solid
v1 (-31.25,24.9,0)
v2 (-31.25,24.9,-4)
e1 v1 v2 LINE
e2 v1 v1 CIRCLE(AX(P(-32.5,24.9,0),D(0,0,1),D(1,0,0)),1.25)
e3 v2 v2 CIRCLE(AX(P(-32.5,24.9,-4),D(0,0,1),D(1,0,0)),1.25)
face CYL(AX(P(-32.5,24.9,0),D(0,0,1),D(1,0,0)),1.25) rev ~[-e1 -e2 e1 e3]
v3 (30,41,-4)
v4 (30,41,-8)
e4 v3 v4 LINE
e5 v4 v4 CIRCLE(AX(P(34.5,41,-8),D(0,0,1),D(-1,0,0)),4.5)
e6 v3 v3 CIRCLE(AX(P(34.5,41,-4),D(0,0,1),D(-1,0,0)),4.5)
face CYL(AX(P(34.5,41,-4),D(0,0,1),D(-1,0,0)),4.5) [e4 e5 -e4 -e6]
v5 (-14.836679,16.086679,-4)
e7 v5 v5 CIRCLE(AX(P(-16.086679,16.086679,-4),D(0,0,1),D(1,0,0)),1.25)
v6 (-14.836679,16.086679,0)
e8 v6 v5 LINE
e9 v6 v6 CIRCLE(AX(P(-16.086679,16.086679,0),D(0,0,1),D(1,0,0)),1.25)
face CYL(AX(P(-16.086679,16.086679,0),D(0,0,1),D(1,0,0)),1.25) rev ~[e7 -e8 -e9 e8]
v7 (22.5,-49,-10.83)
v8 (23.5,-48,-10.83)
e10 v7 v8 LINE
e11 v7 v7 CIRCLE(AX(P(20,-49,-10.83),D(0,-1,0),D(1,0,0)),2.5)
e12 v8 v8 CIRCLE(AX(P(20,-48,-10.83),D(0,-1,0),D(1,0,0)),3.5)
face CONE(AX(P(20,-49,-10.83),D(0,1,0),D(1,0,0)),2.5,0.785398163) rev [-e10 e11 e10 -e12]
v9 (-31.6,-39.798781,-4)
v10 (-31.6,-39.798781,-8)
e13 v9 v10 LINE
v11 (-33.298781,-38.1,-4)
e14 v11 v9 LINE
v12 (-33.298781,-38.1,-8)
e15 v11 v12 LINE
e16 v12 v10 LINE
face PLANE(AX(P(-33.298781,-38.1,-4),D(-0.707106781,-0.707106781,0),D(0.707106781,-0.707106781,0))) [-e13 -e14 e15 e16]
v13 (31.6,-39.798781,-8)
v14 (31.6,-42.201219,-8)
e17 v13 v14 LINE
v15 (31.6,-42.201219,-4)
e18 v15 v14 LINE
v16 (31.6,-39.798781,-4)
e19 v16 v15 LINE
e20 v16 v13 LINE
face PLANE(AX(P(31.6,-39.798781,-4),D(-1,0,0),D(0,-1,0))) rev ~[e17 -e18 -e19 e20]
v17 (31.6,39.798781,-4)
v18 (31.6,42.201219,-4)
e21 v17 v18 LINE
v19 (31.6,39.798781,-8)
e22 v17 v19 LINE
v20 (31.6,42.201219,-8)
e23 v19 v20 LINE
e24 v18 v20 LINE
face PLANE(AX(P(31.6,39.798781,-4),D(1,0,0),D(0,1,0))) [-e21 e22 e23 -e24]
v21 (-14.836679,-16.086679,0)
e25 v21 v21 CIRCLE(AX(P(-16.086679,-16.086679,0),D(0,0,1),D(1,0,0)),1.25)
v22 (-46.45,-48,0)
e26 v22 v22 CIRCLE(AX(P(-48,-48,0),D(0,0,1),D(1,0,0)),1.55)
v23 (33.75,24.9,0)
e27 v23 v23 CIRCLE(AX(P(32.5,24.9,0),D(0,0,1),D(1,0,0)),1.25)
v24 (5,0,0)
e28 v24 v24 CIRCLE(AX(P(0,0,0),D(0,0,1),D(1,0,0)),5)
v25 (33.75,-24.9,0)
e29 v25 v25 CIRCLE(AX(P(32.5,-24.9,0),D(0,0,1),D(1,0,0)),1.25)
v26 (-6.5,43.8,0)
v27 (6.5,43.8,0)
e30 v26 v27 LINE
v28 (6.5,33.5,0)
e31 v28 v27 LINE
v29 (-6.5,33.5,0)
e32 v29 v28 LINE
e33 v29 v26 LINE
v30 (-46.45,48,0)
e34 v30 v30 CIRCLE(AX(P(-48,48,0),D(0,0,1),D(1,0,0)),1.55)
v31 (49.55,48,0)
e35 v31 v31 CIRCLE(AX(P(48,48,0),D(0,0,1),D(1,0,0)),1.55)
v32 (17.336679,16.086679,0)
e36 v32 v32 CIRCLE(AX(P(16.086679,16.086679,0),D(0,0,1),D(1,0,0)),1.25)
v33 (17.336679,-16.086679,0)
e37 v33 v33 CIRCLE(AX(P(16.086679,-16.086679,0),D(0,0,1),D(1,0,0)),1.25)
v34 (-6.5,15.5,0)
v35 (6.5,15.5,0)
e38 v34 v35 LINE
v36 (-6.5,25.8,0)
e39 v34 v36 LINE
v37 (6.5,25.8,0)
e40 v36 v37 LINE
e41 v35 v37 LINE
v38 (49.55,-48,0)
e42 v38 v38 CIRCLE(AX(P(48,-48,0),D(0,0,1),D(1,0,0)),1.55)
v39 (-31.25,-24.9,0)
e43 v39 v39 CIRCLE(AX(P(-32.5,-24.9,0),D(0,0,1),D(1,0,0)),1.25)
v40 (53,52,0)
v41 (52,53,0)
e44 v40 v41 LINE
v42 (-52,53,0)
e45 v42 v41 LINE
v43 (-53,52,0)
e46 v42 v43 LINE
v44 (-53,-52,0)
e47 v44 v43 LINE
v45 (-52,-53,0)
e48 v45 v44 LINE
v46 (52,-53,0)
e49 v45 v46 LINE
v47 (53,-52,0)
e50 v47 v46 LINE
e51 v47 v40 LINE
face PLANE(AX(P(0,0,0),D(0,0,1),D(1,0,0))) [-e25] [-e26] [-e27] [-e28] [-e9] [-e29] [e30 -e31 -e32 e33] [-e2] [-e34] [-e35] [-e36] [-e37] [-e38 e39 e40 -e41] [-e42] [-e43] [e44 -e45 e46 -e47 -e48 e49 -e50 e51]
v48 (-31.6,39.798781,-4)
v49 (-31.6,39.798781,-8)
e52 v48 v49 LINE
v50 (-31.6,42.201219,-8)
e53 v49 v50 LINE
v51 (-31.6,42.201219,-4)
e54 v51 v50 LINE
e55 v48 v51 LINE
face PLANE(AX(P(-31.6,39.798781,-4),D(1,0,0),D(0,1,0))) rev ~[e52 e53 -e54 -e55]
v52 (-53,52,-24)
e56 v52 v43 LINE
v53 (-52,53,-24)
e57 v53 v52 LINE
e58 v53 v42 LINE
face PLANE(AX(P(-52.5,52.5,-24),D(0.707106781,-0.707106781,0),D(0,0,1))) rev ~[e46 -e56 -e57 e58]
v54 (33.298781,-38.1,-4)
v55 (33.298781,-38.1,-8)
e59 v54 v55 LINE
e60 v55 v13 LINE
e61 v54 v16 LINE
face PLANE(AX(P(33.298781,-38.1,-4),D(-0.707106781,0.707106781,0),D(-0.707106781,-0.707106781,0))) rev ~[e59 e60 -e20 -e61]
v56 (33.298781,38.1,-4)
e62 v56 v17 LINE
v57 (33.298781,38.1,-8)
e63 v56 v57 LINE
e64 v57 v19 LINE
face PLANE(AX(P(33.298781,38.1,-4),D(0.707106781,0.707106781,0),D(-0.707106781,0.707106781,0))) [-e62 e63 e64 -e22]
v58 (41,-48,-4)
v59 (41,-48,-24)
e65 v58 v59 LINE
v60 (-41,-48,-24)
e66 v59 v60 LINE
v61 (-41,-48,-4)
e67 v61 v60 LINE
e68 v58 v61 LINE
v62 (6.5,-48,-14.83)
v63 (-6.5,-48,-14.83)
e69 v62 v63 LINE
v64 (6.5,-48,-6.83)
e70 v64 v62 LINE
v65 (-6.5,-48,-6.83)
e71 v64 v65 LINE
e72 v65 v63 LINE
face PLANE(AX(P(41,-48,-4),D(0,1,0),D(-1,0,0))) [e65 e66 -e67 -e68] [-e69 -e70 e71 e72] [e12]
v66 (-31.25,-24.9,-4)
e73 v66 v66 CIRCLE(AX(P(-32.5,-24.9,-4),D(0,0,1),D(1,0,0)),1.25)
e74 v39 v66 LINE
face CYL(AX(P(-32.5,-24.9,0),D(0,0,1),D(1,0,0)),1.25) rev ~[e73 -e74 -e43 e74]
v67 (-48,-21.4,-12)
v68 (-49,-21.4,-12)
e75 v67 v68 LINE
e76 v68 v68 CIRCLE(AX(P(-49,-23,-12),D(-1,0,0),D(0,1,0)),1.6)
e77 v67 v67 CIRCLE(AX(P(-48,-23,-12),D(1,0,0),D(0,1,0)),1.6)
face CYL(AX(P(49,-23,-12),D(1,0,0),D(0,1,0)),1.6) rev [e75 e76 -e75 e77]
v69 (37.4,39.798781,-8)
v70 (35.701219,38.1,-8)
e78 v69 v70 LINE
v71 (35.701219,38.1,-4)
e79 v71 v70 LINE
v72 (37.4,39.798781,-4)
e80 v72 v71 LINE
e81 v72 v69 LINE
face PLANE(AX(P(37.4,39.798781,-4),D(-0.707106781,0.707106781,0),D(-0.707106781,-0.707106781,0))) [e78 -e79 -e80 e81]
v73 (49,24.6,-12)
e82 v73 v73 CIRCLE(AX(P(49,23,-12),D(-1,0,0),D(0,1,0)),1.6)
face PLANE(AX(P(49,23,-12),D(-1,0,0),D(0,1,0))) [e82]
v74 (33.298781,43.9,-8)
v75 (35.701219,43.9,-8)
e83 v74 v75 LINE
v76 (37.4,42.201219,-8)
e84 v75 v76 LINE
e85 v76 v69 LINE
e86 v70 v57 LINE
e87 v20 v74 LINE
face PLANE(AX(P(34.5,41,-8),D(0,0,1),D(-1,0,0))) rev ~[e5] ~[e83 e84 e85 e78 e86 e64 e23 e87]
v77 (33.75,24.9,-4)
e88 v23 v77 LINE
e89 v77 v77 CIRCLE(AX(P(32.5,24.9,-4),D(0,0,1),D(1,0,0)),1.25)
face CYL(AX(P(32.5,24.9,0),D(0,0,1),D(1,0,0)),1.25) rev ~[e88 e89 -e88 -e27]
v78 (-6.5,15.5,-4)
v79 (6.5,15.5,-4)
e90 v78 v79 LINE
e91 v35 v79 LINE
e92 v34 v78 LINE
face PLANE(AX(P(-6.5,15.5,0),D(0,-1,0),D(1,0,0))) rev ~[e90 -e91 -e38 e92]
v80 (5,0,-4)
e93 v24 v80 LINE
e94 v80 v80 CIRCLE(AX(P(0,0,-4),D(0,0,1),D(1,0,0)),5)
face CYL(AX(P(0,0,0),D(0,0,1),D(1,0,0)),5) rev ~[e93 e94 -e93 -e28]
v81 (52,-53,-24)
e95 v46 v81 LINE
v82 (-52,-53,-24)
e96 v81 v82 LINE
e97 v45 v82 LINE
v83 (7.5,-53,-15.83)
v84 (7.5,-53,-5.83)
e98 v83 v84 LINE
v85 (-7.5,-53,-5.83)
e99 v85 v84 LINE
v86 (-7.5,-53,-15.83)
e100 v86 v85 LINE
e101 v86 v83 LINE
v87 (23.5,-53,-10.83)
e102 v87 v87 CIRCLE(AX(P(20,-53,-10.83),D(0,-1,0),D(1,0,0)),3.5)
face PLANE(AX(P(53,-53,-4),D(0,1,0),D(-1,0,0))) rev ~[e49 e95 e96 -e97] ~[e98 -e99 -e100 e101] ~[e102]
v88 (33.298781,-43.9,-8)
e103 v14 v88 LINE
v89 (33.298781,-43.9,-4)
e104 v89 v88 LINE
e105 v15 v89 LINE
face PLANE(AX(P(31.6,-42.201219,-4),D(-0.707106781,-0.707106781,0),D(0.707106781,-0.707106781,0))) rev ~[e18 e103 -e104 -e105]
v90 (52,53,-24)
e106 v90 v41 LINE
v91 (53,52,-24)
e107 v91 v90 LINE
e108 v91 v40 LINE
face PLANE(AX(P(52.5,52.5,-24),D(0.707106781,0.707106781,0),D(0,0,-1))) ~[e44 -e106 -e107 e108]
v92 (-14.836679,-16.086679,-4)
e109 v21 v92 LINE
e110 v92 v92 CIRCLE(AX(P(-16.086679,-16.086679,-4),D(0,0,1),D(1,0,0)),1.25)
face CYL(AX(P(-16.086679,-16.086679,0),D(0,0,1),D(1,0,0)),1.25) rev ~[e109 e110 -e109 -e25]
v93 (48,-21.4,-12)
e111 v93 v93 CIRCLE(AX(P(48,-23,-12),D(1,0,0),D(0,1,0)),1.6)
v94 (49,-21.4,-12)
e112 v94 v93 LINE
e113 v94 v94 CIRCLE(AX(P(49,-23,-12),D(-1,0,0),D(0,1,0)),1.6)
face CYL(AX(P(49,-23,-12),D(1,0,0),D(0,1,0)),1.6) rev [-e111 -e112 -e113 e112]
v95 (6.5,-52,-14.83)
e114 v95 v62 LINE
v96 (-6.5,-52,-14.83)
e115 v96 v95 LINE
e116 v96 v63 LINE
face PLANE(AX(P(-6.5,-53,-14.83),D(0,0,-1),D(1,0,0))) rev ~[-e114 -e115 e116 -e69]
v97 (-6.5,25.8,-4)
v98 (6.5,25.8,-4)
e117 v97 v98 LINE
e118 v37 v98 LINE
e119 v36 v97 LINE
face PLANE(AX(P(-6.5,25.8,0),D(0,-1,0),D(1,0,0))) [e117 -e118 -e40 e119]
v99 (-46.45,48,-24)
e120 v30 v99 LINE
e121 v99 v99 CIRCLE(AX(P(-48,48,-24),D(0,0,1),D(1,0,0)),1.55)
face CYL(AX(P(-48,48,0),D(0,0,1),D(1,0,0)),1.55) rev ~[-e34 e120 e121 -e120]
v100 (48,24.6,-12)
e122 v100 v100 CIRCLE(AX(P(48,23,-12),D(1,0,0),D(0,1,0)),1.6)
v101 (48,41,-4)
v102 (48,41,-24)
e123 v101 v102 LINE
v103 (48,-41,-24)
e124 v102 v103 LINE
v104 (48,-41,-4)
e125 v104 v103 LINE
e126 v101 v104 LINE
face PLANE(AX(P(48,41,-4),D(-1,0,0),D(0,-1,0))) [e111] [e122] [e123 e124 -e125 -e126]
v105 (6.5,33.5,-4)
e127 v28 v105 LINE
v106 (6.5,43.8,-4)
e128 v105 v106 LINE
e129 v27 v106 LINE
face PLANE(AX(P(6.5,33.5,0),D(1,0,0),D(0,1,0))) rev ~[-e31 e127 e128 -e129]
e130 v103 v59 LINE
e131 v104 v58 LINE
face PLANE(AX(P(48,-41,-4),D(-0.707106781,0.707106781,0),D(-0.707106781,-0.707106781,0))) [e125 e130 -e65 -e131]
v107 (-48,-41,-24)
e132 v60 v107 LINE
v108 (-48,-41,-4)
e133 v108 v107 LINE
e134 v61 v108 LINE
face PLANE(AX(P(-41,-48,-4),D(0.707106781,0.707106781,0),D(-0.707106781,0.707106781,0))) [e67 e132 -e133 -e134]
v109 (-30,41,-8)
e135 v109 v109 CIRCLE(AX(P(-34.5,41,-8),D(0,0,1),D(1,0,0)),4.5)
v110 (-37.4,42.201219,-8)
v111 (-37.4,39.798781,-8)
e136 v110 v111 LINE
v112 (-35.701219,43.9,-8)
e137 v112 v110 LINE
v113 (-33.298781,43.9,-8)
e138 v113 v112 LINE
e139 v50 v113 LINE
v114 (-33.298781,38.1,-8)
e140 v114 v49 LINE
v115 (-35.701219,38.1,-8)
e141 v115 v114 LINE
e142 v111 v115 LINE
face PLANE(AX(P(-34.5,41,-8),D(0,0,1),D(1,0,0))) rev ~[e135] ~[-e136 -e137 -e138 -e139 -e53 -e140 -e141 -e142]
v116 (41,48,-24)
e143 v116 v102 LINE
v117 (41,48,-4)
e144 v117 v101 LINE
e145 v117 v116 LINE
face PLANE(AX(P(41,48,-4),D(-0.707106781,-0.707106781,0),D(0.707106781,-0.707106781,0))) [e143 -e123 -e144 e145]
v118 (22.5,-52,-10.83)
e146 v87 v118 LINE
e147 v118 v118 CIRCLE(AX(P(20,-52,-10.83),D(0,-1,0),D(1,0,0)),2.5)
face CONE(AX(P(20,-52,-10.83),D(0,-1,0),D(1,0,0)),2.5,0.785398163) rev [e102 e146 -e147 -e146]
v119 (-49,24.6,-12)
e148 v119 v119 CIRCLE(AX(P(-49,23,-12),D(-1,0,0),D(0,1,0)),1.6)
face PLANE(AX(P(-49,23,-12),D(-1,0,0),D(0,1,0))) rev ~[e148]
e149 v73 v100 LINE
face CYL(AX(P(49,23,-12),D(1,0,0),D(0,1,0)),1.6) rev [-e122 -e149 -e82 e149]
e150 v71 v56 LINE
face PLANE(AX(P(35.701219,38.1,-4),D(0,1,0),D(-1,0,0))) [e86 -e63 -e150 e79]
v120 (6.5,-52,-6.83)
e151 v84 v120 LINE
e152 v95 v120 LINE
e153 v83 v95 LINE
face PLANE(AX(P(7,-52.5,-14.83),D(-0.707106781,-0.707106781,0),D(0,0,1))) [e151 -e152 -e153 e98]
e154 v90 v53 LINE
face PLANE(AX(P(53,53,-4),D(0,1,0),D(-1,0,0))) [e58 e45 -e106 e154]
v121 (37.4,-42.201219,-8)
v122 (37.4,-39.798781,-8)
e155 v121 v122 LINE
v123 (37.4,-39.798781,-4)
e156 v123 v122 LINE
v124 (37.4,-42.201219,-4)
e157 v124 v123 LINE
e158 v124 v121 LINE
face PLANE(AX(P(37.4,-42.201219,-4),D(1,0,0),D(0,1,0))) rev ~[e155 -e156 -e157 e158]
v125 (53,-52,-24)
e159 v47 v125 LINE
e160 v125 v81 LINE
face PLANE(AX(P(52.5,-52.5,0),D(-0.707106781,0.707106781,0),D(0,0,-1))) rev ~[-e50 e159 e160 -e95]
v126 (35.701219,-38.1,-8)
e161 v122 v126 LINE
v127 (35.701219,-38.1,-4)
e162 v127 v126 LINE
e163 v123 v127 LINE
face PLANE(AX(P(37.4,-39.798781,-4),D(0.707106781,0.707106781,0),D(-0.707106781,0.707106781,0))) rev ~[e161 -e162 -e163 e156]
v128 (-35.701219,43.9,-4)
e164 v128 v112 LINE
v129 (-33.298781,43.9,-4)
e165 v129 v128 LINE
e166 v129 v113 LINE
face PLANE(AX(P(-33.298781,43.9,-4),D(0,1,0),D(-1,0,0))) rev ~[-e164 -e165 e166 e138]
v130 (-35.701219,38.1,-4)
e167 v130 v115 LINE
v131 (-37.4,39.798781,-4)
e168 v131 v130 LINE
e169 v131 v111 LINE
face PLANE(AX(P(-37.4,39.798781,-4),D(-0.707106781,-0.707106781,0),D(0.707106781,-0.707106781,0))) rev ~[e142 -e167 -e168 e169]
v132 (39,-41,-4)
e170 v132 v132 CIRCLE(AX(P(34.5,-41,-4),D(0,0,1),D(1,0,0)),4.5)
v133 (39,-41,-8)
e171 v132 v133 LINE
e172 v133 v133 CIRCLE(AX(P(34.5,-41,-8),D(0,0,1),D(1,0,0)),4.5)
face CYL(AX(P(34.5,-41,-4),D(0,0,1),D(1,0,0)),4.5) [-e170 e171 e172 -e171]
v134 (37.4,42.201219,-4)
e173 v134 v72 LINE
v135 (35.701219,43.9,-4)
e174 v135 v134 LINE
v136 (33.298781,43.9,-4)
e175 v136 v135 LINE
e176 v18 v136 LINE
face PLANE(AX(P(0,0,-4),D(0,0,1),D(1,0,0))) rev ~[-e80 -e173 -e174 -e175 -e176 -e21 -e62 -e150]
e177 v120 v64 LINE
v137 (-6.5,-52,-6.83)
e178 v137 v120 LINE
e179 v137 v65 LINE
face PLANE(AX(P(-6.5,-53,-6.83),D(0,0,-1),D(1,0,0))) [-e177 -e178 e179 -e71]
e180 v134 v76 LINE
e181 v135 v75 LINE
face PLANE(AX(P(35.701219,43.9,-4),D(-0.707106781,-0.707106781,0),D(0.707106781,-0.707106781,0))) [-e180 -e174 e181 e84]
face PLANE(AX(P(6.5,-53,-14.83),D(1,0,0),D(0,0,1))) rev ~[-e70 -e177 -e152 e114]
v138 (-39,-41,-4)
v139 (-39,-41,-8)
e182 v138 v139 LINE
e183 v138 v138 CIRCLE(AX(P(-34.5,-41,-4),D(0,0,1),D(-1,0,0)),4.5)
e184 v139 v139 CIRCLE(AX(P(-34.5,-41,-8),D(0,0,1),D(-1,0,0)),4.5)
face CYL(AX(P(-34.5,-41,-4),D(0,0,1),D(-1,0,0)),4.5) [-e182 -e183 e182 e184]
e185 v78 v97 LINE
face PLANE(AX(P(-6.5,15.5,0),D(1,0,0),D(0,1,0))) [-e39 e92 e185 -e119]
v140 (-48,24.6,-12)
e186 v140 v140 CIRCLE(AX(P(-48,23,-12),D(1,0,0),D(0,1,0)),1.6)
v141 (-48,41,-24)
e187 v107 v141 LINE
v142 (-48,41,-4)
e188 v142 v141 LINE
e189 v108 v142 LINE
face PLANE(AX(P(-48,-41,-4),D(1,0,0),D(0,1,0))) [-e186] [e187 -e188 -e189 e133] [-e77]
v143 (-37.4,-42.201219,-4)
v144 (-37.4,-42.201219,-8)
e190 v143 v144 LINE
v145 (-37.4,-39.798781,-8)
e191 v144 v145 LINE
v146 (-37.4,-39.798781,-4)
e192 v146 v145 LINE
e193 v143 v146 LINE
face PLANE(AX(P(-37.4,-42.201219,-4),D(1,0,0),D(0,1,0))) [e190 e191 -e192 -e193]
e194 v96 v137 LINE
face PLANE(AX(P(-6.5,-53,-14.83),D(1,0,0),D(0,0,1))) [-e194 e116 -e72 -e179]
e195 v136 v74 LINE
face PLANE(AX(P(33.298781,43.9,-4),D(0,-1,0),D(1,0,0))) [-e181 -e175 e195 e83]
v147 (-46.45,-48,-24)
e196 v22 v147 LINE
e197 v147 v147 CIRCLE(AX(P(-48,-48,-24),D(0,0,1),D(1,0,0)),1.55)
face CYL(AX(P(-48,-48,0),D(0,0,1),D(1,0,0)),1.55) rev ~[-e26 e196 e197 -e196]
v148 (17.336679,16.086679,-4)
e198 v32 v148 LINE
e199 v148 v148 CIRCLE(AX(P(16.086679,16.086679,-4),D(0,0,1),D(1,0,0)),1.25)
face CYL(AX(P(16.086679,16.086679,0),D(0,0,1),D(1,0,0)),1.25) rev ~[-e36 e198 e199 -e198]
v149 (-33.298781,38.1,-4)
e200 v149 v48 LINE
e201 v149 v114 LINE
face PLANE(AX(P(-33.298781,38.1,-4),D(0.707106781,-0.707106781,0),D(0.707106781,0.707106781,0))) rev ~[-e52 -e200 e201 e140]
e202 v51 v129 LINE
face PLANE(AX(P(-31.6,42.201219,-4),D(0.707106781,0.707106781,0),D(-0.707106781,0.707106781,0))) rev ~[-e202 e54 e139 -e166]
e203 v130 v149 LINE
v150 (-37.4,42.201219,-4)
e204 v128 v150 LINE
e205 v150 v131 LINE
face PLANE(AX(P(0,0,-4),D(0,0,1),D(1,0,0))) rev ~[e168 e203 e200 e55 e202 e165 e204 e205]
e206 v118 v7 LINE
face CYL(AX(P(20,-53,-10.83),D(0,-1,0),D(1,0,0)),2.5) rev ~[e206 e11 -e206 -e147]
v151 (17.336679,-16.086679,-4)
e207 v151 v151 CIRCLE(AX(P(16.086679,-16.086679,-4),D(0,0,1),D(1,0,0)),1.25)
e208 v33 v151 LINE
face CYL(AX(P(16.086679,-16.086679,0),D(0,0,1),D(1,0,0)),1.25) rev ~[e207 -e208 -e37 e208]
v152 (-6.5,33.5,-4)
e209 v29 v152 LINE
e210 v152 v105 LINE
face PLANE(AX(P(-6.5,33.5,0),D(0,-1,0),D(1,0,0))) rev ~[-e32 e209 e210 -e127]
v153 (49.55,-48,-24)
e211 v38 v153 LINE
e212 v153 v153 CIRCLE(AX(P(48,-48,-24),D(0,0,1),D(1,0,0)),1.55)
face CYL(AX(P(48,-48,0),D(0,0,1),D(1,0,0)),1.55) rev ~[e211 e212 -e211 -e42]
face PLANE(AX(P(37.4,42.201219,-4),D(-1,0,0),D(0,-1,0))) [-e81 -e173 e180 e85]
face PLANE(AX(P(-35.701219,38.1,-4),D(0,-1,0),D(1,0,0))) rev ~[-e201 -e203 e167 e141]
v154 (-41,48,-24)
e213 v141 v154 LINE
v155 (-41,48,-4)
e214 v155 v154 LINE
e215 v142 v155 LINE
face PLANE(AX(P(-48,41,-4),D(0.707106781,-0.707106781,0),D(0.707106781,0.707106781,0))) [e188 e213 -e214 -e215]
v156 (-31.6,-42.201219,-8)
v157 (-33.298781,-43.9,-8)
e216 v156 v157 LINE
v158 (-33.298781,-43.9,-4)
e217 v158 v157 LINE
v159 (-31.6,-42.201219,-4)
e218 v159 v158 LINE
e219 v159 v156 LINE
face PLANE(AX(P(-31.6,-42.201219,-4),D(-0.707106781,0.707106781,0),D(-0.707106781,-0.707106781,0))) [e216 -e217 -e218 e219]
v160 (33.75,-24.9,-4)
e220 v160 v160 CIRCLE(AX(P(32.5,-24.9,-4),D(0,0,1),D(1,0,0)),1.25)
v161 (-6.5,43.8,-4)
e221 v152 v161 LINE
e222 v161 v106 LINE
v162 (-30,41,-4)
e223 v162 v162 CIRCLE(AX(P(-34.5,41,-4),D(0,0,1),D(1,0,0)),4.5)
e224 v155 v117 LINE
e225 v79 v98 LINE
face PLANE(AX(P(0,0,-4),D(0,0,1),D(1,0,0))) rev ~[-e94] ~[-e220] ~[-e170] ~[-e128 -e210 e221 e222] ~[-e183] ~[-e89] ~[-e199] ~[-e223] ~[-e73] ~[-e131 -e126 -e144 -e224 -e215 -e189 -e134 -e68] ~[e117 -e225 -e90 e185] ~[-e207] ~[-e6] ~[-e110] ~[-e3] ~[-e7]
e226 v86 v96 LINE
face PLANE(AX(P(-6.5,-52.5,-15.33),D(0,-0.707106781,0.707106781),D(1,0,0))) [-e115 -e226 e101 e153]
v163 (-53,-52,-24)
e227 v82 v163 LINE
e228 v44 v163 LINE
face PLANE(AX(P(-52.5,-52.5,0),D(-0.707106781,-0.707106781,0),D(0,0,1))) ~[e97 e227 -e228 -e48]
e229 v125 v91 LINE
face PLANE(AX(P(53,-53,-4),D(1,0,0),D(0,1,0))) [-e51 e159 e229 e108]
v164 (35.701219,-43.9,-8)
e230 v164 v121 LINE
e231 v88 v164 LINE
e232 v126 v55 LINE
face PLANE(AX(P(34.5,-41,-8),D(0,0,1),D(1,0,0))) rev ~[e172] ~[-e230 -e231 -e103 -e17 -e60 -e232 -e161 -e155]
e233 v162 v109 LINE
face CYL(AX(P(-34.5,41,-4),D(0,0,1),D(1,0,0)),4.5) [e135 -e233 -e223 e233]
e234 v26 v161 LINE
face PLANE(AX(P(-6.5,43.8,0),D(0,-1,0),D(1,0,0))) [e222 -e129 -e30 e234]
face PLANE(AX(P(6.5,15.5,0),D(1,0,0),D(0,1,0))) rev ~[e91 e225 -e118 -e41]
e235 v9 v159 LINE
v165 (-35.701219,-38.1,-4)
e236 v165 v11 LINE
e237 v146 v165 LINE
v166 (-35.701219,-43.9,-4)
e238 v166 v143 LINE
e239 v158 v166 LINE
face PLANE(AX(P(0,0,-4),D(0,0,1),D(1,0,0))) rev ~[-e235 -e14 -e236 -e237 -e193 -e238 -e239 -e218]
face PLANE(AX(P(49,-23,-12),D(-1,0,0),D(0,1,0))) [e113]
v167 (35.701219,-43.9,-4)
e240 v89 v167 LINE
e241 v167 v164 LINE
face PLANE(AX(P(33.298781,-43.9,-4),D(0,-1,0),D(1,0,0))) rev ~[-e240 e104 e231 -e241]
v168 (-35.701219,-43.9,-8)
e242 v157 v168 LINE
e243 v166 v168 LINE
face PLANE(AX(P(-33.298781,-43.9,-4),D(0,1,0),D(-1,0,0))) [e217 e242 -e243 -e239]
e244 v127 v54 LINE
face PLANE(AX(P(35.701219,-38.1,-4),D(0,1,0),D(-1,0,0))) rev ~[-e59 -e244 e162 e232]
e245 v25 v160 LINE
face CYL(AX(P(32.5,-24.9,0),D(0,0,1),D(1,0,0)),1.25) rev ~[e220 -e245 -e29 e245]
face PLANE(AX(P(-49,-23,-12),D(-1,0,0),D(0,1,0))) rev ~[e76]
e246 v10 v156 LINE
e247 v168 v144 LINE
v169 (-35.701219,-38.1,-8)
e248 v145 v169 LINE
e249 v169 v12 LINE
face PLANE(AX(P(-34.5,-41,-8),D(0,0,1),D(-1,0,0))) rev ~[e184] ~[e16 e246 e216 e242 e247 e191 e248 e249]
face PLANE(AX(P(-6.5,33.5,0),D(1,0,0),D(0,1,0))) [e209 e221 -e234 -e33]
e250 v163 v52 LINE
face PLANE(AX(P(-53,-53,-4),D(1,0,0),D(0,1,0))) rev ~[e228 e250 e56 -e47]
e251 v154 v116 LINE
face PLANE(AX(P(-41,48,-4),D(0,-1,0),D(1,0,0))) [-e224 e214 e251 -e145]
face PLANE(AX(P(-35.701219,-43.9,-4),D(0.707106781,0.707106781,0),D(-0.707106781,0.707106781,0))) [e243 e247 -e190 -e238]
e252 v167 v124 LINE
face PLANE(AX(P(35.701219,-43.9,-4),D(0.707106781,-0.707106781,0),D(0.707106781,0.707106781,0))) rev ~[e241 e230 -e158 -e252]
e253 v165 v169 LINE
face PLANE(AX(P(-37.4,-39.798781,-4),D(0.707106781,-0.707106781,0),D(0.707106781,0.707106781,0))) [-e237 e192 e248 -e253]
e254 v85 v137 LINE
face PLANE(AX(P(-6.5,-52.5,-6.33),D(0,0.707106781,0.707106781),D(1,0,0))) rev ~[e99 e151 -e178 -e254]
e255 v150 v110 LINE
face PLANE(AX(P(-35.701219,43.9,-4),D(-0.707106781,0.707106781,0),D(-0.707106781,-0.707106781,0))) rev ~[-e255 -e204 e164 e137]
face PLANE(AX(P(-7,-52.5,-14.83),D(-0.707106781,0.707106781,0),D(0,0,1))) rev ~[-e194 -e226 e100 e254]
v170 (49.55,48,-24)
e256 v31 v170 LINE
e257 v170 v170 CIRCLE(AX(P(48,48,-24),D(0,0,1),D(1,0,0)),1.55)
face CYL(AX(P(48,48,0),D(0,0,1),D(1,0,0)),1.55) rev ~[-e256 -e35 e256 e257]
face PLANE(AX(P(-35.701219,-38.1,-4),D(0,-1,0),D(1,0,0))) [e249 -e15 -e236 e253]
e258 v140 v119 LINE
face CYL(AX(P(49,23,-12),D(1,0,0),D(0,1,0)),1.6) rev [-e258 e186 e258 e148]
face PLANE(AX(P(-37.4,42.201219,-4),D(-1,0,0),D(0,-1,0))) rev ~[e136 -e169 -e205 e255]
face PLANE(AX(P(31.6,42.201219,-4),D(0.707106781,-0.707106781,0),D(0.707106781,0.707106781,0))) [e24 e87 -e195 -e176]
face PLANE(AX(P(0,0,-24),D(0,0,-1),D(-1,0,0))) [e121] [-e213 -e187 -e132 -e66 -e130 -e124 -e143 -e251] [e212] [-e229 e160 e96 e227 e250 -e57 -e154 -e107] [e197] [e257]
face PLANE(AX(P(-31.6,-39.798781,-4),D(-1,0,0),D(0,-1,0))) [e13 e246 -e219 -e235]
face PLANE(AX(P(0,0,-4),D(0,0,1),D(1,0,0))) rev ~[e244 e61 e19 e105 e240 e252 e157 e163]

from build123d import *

# Parameters (mm, degrees)
SKETCH1_W               = 106
SKETCH1_H               = 106
BOSS_EXTRUDE1_DEPTH     = 4
SKETCH2_W               = 106
SKETCH2_H               = 106
BOSS_EXTRUDE2_DEPTH     = 20
SKETCH7_R               = 1.55
CUT_EXTRUDE2_DEPTH      = 50
SKETCH8_R               = 1.25
SKETCH8_R_2             = 5
SKETCH8_W               = 13
SKETCH8_H               = 10.3
CUT_EXTRUDE3_DEPTH      = 10
SKETCH9_R               = 4.5
BOSS_EXTRUDE3_DEPTH     = 4
SKETCH14_R              = 2.5
SKETCH14_W              = 13
SKETCH14_H              = 8
CUT_EXTRUDE4_DEPTH      = 10
CHAMFER1_SIZE           = 1
CHAMFER2_SIZE           = 1
CUT_EXTRUDE5_DEPTH      = 97
CUT_EXTRUDE5_DEPTH_BACK = 1
SKETCH15_R              = 1.6
CHAMFER3_SIZE           = 1


with BuildPart() as part:
    # Sketch1 → Boss-Extrude1 (new body)
    with BuildSketch(Plane.XY):
        Rectangle(SKETCH1_W, SKETCH1_H)
    extrude(amount=-BOSS_EXTRUDE1_DEPTH)

    # Sketch2 → Boss-Extrude2 (add)
    with BuildSketch(Plane(origin=(0, 0, -4), x_dir=(-1, 0, 0), z_dir=(0, 0, -1))):
        Rectangle(SKETCH2_W, SKETCH2_H)
        Polygon((-48, 41), (-48, -41), (-41, -48), (41, -48), (48, -41), (48, 41), (41, 48), (-41, 48), align=None, mode=Mode.SUBTRACT)
    extrude(amount=BOSS_EXTRUDE2_DEPTH)

    # Sketch7 → Cut-Extrude2 (cut)
    with BuildSketch(Plane.XY):
        with Locations((-48, 48)):
            Circle(SKETCH7_R)
        with Locations((48, 48)):
            Circle(SKETCH7_R)
        with Locations((-48, -48)):
            Circle(SKETCH7_R)
        with Locations((48, -48)):
            Circle(SKETCH7_R)
    extrude(amount=-CUT_EXTRUDE2_DEPTH, mode=Mode.SUBTRACT)

    # Sketch8 → Cut-Extrude3 (cut)
    with BuildSketch(Plane.XY):
        with Locations((32.5, 24.9)):
            Circle(SKETCH8_R)
        with Locations((-32.5, 24.9)):
            Circle(SKETCH8_R)
        with Locations((-32.5, -24.9)):
            Circle(SKETCH8_R)
        with Locations((32.5, -24.9)):
            Circle(SKETCH8_R)
        with Locations((16.086679272, -16.086679272)):
            Circle(SKETCH8_R)
        with Locations((-16.086679272, -16.086679272)):
            Circle(SKETCH8_R)
        with Locations((16.086679272, 16.086679272)):
            Circle(SKETCH8_R)
        with Locations((-16.086679272, 16.086679272)):
            Circle(SKETCH8_R)
        Circle(SKETCH8_R_2)
        with Locations((0, 38.65)):
            Rectangle(SKETCH8_W, SKETCH8_H)
        with Locations((0, 20.65)):
            Rectangle(SKETCH8_W, SKETCH8_H)
    extrude(amount=-CUT_EXTRUDE3_DEPTH, mode=Mode.SUBTRACT)

    # Sketch9 → Boss-Extrude3 (add)
    # profile 1 of 4: a face of its own
    with BuildSketch(Plane.XY.offset(-4)):
        with Locations((-34.5, 41)):
            Circle(SKETCH9_R)
        Polygon((-35.701219331, 38.1), (-33.298780669, 38.1), (-31.6, 39.798780669), (-31.6, 42.201219331), (-33.298780669, 43.9), (-35.701219331, 43.9), (-37.4, 42.201219331), (-37.4, 39.798780669), align=None, mode=Mode.SUBTRACT)
    # profile 2 of 4: a face of its own
    with BuildSketch(Plane.XY.offset(-4)):
        with Locations(Location((34.5, 41, 0), (0, 0, 180))):
            Circle(SKETCH9_R)
        Polygon((37.4, 39.798780669), (35.701219331, 38.1), (33.298780669, 38.1), (31.6, 39.798780669), (31.6, 42.201219331), (33.298780669, 43.9), (35.701219331, 43.9), (37.4, 42.201219331), align=None, mode=Mode.SUBTRACT)
    # profile 3 of 4: a face of its own
    with BuildSketch(Plane.XY.offset(-4)):
        with Locations((34.5, -41)):
            Circle(SKETCH9_R)
        Polygon((35.701219331, -38.1), (33.298780669, -38.1), (31.6, -39.798780669), (31.6, -42.201219331), (33.298780669, -43.9), (35.701219331, -43.9), (37.4, -42.201219331), (37.4, -39.798780669), align=None, mode=Mode.SUBTRACT)
    # profile 4 of 4: a face of its own
    with BuildSketch(Plane.XY.offset(-4)):
        with Locations(Location((-34.5, -41, 0), (0, 0, 180))):
            Circle(SKETCH9_R)
        Polygon((-37.4, -39.798780669), (-35.701219331, -38.1), (-33.298780669, -38.1), (-31.6, -39.798780669), (-31.6, -42.201219331), (-33.298780669, -43.9), (-35.701219331, -43.9), (-37.4, -42.201219331), align=None, mode=Mode.SUBTRACT)
    extrude(amount=-BOSS_EXTRUDE3_DEPTH)

    # Sketch14 → Cut-Extrude4 (cut)
    with BuildSketch(Plane.XZ.offset(53)):
        with Locations((20, -10.83)):
            Circle(SKETCH14_R)
        with Locations((0, -10.83)):
            Rectangle(SKETCH14_W, SKETCH14_H)
    extrude(amount=-CUT_EXTRUDE4_DEPTH, mode=Mode.SUBTRACT)

    # Chamfer1
    chamfer1_edges = [part.edges().sort_by_distance(p)[0] for p in [
        (-53, 53, -12),
        (53, 53, -12),
        (53, -53, -12),
        (-53, -53, -12),
    ]]
    chamfer(chamfer1_edges, length=CHAMFER1_SIZE)

    # Chamfer2
    chamfer2_edges = [part.edges().sort_by_distance(p)[0] for p in [
        (-6.5, -53, -10.83),
        (0, -53, -14.83),
        (6.5, -53, -10.83),
        (0, -53, -6.83),
    ]]
    chamfer(chamfer2_edges, length=CHAMFER2_SIZE)

    # Sketch15 → Cut-Extrude5 (cut, two sides: drawn at the far end of the back side and taken through both)
    with BuildSketch(Plane.ZY.offset(-48).offset(-CUT_EXTRUDE5_DEPTH_BACK)):
        with Locations(Location((-12, -23, 0), (0, 0, 90))):
            Circle(SKETCH15_R)
        with Locations(Location((-12, 23, 0), (0, 0, 90))):
            Circle(SKETCH15_R)
    extrude(amount=CUT_EXTRUDE5_DEPTH + CUT_EXTRUDE5_DEPTH_BACK, mode=Mode.SUBTRACT)

    # Chamfer3
    chamfer3_edges = [part.edges().sort_by_distance(p)[0] for p in [
        (17.5, -48, -10.83),
        (17.5, -53, -10.83),
    ]]
    chamfer(chamfer3_edges, length=CHAMFER3_SIZE)


solid = part.part
